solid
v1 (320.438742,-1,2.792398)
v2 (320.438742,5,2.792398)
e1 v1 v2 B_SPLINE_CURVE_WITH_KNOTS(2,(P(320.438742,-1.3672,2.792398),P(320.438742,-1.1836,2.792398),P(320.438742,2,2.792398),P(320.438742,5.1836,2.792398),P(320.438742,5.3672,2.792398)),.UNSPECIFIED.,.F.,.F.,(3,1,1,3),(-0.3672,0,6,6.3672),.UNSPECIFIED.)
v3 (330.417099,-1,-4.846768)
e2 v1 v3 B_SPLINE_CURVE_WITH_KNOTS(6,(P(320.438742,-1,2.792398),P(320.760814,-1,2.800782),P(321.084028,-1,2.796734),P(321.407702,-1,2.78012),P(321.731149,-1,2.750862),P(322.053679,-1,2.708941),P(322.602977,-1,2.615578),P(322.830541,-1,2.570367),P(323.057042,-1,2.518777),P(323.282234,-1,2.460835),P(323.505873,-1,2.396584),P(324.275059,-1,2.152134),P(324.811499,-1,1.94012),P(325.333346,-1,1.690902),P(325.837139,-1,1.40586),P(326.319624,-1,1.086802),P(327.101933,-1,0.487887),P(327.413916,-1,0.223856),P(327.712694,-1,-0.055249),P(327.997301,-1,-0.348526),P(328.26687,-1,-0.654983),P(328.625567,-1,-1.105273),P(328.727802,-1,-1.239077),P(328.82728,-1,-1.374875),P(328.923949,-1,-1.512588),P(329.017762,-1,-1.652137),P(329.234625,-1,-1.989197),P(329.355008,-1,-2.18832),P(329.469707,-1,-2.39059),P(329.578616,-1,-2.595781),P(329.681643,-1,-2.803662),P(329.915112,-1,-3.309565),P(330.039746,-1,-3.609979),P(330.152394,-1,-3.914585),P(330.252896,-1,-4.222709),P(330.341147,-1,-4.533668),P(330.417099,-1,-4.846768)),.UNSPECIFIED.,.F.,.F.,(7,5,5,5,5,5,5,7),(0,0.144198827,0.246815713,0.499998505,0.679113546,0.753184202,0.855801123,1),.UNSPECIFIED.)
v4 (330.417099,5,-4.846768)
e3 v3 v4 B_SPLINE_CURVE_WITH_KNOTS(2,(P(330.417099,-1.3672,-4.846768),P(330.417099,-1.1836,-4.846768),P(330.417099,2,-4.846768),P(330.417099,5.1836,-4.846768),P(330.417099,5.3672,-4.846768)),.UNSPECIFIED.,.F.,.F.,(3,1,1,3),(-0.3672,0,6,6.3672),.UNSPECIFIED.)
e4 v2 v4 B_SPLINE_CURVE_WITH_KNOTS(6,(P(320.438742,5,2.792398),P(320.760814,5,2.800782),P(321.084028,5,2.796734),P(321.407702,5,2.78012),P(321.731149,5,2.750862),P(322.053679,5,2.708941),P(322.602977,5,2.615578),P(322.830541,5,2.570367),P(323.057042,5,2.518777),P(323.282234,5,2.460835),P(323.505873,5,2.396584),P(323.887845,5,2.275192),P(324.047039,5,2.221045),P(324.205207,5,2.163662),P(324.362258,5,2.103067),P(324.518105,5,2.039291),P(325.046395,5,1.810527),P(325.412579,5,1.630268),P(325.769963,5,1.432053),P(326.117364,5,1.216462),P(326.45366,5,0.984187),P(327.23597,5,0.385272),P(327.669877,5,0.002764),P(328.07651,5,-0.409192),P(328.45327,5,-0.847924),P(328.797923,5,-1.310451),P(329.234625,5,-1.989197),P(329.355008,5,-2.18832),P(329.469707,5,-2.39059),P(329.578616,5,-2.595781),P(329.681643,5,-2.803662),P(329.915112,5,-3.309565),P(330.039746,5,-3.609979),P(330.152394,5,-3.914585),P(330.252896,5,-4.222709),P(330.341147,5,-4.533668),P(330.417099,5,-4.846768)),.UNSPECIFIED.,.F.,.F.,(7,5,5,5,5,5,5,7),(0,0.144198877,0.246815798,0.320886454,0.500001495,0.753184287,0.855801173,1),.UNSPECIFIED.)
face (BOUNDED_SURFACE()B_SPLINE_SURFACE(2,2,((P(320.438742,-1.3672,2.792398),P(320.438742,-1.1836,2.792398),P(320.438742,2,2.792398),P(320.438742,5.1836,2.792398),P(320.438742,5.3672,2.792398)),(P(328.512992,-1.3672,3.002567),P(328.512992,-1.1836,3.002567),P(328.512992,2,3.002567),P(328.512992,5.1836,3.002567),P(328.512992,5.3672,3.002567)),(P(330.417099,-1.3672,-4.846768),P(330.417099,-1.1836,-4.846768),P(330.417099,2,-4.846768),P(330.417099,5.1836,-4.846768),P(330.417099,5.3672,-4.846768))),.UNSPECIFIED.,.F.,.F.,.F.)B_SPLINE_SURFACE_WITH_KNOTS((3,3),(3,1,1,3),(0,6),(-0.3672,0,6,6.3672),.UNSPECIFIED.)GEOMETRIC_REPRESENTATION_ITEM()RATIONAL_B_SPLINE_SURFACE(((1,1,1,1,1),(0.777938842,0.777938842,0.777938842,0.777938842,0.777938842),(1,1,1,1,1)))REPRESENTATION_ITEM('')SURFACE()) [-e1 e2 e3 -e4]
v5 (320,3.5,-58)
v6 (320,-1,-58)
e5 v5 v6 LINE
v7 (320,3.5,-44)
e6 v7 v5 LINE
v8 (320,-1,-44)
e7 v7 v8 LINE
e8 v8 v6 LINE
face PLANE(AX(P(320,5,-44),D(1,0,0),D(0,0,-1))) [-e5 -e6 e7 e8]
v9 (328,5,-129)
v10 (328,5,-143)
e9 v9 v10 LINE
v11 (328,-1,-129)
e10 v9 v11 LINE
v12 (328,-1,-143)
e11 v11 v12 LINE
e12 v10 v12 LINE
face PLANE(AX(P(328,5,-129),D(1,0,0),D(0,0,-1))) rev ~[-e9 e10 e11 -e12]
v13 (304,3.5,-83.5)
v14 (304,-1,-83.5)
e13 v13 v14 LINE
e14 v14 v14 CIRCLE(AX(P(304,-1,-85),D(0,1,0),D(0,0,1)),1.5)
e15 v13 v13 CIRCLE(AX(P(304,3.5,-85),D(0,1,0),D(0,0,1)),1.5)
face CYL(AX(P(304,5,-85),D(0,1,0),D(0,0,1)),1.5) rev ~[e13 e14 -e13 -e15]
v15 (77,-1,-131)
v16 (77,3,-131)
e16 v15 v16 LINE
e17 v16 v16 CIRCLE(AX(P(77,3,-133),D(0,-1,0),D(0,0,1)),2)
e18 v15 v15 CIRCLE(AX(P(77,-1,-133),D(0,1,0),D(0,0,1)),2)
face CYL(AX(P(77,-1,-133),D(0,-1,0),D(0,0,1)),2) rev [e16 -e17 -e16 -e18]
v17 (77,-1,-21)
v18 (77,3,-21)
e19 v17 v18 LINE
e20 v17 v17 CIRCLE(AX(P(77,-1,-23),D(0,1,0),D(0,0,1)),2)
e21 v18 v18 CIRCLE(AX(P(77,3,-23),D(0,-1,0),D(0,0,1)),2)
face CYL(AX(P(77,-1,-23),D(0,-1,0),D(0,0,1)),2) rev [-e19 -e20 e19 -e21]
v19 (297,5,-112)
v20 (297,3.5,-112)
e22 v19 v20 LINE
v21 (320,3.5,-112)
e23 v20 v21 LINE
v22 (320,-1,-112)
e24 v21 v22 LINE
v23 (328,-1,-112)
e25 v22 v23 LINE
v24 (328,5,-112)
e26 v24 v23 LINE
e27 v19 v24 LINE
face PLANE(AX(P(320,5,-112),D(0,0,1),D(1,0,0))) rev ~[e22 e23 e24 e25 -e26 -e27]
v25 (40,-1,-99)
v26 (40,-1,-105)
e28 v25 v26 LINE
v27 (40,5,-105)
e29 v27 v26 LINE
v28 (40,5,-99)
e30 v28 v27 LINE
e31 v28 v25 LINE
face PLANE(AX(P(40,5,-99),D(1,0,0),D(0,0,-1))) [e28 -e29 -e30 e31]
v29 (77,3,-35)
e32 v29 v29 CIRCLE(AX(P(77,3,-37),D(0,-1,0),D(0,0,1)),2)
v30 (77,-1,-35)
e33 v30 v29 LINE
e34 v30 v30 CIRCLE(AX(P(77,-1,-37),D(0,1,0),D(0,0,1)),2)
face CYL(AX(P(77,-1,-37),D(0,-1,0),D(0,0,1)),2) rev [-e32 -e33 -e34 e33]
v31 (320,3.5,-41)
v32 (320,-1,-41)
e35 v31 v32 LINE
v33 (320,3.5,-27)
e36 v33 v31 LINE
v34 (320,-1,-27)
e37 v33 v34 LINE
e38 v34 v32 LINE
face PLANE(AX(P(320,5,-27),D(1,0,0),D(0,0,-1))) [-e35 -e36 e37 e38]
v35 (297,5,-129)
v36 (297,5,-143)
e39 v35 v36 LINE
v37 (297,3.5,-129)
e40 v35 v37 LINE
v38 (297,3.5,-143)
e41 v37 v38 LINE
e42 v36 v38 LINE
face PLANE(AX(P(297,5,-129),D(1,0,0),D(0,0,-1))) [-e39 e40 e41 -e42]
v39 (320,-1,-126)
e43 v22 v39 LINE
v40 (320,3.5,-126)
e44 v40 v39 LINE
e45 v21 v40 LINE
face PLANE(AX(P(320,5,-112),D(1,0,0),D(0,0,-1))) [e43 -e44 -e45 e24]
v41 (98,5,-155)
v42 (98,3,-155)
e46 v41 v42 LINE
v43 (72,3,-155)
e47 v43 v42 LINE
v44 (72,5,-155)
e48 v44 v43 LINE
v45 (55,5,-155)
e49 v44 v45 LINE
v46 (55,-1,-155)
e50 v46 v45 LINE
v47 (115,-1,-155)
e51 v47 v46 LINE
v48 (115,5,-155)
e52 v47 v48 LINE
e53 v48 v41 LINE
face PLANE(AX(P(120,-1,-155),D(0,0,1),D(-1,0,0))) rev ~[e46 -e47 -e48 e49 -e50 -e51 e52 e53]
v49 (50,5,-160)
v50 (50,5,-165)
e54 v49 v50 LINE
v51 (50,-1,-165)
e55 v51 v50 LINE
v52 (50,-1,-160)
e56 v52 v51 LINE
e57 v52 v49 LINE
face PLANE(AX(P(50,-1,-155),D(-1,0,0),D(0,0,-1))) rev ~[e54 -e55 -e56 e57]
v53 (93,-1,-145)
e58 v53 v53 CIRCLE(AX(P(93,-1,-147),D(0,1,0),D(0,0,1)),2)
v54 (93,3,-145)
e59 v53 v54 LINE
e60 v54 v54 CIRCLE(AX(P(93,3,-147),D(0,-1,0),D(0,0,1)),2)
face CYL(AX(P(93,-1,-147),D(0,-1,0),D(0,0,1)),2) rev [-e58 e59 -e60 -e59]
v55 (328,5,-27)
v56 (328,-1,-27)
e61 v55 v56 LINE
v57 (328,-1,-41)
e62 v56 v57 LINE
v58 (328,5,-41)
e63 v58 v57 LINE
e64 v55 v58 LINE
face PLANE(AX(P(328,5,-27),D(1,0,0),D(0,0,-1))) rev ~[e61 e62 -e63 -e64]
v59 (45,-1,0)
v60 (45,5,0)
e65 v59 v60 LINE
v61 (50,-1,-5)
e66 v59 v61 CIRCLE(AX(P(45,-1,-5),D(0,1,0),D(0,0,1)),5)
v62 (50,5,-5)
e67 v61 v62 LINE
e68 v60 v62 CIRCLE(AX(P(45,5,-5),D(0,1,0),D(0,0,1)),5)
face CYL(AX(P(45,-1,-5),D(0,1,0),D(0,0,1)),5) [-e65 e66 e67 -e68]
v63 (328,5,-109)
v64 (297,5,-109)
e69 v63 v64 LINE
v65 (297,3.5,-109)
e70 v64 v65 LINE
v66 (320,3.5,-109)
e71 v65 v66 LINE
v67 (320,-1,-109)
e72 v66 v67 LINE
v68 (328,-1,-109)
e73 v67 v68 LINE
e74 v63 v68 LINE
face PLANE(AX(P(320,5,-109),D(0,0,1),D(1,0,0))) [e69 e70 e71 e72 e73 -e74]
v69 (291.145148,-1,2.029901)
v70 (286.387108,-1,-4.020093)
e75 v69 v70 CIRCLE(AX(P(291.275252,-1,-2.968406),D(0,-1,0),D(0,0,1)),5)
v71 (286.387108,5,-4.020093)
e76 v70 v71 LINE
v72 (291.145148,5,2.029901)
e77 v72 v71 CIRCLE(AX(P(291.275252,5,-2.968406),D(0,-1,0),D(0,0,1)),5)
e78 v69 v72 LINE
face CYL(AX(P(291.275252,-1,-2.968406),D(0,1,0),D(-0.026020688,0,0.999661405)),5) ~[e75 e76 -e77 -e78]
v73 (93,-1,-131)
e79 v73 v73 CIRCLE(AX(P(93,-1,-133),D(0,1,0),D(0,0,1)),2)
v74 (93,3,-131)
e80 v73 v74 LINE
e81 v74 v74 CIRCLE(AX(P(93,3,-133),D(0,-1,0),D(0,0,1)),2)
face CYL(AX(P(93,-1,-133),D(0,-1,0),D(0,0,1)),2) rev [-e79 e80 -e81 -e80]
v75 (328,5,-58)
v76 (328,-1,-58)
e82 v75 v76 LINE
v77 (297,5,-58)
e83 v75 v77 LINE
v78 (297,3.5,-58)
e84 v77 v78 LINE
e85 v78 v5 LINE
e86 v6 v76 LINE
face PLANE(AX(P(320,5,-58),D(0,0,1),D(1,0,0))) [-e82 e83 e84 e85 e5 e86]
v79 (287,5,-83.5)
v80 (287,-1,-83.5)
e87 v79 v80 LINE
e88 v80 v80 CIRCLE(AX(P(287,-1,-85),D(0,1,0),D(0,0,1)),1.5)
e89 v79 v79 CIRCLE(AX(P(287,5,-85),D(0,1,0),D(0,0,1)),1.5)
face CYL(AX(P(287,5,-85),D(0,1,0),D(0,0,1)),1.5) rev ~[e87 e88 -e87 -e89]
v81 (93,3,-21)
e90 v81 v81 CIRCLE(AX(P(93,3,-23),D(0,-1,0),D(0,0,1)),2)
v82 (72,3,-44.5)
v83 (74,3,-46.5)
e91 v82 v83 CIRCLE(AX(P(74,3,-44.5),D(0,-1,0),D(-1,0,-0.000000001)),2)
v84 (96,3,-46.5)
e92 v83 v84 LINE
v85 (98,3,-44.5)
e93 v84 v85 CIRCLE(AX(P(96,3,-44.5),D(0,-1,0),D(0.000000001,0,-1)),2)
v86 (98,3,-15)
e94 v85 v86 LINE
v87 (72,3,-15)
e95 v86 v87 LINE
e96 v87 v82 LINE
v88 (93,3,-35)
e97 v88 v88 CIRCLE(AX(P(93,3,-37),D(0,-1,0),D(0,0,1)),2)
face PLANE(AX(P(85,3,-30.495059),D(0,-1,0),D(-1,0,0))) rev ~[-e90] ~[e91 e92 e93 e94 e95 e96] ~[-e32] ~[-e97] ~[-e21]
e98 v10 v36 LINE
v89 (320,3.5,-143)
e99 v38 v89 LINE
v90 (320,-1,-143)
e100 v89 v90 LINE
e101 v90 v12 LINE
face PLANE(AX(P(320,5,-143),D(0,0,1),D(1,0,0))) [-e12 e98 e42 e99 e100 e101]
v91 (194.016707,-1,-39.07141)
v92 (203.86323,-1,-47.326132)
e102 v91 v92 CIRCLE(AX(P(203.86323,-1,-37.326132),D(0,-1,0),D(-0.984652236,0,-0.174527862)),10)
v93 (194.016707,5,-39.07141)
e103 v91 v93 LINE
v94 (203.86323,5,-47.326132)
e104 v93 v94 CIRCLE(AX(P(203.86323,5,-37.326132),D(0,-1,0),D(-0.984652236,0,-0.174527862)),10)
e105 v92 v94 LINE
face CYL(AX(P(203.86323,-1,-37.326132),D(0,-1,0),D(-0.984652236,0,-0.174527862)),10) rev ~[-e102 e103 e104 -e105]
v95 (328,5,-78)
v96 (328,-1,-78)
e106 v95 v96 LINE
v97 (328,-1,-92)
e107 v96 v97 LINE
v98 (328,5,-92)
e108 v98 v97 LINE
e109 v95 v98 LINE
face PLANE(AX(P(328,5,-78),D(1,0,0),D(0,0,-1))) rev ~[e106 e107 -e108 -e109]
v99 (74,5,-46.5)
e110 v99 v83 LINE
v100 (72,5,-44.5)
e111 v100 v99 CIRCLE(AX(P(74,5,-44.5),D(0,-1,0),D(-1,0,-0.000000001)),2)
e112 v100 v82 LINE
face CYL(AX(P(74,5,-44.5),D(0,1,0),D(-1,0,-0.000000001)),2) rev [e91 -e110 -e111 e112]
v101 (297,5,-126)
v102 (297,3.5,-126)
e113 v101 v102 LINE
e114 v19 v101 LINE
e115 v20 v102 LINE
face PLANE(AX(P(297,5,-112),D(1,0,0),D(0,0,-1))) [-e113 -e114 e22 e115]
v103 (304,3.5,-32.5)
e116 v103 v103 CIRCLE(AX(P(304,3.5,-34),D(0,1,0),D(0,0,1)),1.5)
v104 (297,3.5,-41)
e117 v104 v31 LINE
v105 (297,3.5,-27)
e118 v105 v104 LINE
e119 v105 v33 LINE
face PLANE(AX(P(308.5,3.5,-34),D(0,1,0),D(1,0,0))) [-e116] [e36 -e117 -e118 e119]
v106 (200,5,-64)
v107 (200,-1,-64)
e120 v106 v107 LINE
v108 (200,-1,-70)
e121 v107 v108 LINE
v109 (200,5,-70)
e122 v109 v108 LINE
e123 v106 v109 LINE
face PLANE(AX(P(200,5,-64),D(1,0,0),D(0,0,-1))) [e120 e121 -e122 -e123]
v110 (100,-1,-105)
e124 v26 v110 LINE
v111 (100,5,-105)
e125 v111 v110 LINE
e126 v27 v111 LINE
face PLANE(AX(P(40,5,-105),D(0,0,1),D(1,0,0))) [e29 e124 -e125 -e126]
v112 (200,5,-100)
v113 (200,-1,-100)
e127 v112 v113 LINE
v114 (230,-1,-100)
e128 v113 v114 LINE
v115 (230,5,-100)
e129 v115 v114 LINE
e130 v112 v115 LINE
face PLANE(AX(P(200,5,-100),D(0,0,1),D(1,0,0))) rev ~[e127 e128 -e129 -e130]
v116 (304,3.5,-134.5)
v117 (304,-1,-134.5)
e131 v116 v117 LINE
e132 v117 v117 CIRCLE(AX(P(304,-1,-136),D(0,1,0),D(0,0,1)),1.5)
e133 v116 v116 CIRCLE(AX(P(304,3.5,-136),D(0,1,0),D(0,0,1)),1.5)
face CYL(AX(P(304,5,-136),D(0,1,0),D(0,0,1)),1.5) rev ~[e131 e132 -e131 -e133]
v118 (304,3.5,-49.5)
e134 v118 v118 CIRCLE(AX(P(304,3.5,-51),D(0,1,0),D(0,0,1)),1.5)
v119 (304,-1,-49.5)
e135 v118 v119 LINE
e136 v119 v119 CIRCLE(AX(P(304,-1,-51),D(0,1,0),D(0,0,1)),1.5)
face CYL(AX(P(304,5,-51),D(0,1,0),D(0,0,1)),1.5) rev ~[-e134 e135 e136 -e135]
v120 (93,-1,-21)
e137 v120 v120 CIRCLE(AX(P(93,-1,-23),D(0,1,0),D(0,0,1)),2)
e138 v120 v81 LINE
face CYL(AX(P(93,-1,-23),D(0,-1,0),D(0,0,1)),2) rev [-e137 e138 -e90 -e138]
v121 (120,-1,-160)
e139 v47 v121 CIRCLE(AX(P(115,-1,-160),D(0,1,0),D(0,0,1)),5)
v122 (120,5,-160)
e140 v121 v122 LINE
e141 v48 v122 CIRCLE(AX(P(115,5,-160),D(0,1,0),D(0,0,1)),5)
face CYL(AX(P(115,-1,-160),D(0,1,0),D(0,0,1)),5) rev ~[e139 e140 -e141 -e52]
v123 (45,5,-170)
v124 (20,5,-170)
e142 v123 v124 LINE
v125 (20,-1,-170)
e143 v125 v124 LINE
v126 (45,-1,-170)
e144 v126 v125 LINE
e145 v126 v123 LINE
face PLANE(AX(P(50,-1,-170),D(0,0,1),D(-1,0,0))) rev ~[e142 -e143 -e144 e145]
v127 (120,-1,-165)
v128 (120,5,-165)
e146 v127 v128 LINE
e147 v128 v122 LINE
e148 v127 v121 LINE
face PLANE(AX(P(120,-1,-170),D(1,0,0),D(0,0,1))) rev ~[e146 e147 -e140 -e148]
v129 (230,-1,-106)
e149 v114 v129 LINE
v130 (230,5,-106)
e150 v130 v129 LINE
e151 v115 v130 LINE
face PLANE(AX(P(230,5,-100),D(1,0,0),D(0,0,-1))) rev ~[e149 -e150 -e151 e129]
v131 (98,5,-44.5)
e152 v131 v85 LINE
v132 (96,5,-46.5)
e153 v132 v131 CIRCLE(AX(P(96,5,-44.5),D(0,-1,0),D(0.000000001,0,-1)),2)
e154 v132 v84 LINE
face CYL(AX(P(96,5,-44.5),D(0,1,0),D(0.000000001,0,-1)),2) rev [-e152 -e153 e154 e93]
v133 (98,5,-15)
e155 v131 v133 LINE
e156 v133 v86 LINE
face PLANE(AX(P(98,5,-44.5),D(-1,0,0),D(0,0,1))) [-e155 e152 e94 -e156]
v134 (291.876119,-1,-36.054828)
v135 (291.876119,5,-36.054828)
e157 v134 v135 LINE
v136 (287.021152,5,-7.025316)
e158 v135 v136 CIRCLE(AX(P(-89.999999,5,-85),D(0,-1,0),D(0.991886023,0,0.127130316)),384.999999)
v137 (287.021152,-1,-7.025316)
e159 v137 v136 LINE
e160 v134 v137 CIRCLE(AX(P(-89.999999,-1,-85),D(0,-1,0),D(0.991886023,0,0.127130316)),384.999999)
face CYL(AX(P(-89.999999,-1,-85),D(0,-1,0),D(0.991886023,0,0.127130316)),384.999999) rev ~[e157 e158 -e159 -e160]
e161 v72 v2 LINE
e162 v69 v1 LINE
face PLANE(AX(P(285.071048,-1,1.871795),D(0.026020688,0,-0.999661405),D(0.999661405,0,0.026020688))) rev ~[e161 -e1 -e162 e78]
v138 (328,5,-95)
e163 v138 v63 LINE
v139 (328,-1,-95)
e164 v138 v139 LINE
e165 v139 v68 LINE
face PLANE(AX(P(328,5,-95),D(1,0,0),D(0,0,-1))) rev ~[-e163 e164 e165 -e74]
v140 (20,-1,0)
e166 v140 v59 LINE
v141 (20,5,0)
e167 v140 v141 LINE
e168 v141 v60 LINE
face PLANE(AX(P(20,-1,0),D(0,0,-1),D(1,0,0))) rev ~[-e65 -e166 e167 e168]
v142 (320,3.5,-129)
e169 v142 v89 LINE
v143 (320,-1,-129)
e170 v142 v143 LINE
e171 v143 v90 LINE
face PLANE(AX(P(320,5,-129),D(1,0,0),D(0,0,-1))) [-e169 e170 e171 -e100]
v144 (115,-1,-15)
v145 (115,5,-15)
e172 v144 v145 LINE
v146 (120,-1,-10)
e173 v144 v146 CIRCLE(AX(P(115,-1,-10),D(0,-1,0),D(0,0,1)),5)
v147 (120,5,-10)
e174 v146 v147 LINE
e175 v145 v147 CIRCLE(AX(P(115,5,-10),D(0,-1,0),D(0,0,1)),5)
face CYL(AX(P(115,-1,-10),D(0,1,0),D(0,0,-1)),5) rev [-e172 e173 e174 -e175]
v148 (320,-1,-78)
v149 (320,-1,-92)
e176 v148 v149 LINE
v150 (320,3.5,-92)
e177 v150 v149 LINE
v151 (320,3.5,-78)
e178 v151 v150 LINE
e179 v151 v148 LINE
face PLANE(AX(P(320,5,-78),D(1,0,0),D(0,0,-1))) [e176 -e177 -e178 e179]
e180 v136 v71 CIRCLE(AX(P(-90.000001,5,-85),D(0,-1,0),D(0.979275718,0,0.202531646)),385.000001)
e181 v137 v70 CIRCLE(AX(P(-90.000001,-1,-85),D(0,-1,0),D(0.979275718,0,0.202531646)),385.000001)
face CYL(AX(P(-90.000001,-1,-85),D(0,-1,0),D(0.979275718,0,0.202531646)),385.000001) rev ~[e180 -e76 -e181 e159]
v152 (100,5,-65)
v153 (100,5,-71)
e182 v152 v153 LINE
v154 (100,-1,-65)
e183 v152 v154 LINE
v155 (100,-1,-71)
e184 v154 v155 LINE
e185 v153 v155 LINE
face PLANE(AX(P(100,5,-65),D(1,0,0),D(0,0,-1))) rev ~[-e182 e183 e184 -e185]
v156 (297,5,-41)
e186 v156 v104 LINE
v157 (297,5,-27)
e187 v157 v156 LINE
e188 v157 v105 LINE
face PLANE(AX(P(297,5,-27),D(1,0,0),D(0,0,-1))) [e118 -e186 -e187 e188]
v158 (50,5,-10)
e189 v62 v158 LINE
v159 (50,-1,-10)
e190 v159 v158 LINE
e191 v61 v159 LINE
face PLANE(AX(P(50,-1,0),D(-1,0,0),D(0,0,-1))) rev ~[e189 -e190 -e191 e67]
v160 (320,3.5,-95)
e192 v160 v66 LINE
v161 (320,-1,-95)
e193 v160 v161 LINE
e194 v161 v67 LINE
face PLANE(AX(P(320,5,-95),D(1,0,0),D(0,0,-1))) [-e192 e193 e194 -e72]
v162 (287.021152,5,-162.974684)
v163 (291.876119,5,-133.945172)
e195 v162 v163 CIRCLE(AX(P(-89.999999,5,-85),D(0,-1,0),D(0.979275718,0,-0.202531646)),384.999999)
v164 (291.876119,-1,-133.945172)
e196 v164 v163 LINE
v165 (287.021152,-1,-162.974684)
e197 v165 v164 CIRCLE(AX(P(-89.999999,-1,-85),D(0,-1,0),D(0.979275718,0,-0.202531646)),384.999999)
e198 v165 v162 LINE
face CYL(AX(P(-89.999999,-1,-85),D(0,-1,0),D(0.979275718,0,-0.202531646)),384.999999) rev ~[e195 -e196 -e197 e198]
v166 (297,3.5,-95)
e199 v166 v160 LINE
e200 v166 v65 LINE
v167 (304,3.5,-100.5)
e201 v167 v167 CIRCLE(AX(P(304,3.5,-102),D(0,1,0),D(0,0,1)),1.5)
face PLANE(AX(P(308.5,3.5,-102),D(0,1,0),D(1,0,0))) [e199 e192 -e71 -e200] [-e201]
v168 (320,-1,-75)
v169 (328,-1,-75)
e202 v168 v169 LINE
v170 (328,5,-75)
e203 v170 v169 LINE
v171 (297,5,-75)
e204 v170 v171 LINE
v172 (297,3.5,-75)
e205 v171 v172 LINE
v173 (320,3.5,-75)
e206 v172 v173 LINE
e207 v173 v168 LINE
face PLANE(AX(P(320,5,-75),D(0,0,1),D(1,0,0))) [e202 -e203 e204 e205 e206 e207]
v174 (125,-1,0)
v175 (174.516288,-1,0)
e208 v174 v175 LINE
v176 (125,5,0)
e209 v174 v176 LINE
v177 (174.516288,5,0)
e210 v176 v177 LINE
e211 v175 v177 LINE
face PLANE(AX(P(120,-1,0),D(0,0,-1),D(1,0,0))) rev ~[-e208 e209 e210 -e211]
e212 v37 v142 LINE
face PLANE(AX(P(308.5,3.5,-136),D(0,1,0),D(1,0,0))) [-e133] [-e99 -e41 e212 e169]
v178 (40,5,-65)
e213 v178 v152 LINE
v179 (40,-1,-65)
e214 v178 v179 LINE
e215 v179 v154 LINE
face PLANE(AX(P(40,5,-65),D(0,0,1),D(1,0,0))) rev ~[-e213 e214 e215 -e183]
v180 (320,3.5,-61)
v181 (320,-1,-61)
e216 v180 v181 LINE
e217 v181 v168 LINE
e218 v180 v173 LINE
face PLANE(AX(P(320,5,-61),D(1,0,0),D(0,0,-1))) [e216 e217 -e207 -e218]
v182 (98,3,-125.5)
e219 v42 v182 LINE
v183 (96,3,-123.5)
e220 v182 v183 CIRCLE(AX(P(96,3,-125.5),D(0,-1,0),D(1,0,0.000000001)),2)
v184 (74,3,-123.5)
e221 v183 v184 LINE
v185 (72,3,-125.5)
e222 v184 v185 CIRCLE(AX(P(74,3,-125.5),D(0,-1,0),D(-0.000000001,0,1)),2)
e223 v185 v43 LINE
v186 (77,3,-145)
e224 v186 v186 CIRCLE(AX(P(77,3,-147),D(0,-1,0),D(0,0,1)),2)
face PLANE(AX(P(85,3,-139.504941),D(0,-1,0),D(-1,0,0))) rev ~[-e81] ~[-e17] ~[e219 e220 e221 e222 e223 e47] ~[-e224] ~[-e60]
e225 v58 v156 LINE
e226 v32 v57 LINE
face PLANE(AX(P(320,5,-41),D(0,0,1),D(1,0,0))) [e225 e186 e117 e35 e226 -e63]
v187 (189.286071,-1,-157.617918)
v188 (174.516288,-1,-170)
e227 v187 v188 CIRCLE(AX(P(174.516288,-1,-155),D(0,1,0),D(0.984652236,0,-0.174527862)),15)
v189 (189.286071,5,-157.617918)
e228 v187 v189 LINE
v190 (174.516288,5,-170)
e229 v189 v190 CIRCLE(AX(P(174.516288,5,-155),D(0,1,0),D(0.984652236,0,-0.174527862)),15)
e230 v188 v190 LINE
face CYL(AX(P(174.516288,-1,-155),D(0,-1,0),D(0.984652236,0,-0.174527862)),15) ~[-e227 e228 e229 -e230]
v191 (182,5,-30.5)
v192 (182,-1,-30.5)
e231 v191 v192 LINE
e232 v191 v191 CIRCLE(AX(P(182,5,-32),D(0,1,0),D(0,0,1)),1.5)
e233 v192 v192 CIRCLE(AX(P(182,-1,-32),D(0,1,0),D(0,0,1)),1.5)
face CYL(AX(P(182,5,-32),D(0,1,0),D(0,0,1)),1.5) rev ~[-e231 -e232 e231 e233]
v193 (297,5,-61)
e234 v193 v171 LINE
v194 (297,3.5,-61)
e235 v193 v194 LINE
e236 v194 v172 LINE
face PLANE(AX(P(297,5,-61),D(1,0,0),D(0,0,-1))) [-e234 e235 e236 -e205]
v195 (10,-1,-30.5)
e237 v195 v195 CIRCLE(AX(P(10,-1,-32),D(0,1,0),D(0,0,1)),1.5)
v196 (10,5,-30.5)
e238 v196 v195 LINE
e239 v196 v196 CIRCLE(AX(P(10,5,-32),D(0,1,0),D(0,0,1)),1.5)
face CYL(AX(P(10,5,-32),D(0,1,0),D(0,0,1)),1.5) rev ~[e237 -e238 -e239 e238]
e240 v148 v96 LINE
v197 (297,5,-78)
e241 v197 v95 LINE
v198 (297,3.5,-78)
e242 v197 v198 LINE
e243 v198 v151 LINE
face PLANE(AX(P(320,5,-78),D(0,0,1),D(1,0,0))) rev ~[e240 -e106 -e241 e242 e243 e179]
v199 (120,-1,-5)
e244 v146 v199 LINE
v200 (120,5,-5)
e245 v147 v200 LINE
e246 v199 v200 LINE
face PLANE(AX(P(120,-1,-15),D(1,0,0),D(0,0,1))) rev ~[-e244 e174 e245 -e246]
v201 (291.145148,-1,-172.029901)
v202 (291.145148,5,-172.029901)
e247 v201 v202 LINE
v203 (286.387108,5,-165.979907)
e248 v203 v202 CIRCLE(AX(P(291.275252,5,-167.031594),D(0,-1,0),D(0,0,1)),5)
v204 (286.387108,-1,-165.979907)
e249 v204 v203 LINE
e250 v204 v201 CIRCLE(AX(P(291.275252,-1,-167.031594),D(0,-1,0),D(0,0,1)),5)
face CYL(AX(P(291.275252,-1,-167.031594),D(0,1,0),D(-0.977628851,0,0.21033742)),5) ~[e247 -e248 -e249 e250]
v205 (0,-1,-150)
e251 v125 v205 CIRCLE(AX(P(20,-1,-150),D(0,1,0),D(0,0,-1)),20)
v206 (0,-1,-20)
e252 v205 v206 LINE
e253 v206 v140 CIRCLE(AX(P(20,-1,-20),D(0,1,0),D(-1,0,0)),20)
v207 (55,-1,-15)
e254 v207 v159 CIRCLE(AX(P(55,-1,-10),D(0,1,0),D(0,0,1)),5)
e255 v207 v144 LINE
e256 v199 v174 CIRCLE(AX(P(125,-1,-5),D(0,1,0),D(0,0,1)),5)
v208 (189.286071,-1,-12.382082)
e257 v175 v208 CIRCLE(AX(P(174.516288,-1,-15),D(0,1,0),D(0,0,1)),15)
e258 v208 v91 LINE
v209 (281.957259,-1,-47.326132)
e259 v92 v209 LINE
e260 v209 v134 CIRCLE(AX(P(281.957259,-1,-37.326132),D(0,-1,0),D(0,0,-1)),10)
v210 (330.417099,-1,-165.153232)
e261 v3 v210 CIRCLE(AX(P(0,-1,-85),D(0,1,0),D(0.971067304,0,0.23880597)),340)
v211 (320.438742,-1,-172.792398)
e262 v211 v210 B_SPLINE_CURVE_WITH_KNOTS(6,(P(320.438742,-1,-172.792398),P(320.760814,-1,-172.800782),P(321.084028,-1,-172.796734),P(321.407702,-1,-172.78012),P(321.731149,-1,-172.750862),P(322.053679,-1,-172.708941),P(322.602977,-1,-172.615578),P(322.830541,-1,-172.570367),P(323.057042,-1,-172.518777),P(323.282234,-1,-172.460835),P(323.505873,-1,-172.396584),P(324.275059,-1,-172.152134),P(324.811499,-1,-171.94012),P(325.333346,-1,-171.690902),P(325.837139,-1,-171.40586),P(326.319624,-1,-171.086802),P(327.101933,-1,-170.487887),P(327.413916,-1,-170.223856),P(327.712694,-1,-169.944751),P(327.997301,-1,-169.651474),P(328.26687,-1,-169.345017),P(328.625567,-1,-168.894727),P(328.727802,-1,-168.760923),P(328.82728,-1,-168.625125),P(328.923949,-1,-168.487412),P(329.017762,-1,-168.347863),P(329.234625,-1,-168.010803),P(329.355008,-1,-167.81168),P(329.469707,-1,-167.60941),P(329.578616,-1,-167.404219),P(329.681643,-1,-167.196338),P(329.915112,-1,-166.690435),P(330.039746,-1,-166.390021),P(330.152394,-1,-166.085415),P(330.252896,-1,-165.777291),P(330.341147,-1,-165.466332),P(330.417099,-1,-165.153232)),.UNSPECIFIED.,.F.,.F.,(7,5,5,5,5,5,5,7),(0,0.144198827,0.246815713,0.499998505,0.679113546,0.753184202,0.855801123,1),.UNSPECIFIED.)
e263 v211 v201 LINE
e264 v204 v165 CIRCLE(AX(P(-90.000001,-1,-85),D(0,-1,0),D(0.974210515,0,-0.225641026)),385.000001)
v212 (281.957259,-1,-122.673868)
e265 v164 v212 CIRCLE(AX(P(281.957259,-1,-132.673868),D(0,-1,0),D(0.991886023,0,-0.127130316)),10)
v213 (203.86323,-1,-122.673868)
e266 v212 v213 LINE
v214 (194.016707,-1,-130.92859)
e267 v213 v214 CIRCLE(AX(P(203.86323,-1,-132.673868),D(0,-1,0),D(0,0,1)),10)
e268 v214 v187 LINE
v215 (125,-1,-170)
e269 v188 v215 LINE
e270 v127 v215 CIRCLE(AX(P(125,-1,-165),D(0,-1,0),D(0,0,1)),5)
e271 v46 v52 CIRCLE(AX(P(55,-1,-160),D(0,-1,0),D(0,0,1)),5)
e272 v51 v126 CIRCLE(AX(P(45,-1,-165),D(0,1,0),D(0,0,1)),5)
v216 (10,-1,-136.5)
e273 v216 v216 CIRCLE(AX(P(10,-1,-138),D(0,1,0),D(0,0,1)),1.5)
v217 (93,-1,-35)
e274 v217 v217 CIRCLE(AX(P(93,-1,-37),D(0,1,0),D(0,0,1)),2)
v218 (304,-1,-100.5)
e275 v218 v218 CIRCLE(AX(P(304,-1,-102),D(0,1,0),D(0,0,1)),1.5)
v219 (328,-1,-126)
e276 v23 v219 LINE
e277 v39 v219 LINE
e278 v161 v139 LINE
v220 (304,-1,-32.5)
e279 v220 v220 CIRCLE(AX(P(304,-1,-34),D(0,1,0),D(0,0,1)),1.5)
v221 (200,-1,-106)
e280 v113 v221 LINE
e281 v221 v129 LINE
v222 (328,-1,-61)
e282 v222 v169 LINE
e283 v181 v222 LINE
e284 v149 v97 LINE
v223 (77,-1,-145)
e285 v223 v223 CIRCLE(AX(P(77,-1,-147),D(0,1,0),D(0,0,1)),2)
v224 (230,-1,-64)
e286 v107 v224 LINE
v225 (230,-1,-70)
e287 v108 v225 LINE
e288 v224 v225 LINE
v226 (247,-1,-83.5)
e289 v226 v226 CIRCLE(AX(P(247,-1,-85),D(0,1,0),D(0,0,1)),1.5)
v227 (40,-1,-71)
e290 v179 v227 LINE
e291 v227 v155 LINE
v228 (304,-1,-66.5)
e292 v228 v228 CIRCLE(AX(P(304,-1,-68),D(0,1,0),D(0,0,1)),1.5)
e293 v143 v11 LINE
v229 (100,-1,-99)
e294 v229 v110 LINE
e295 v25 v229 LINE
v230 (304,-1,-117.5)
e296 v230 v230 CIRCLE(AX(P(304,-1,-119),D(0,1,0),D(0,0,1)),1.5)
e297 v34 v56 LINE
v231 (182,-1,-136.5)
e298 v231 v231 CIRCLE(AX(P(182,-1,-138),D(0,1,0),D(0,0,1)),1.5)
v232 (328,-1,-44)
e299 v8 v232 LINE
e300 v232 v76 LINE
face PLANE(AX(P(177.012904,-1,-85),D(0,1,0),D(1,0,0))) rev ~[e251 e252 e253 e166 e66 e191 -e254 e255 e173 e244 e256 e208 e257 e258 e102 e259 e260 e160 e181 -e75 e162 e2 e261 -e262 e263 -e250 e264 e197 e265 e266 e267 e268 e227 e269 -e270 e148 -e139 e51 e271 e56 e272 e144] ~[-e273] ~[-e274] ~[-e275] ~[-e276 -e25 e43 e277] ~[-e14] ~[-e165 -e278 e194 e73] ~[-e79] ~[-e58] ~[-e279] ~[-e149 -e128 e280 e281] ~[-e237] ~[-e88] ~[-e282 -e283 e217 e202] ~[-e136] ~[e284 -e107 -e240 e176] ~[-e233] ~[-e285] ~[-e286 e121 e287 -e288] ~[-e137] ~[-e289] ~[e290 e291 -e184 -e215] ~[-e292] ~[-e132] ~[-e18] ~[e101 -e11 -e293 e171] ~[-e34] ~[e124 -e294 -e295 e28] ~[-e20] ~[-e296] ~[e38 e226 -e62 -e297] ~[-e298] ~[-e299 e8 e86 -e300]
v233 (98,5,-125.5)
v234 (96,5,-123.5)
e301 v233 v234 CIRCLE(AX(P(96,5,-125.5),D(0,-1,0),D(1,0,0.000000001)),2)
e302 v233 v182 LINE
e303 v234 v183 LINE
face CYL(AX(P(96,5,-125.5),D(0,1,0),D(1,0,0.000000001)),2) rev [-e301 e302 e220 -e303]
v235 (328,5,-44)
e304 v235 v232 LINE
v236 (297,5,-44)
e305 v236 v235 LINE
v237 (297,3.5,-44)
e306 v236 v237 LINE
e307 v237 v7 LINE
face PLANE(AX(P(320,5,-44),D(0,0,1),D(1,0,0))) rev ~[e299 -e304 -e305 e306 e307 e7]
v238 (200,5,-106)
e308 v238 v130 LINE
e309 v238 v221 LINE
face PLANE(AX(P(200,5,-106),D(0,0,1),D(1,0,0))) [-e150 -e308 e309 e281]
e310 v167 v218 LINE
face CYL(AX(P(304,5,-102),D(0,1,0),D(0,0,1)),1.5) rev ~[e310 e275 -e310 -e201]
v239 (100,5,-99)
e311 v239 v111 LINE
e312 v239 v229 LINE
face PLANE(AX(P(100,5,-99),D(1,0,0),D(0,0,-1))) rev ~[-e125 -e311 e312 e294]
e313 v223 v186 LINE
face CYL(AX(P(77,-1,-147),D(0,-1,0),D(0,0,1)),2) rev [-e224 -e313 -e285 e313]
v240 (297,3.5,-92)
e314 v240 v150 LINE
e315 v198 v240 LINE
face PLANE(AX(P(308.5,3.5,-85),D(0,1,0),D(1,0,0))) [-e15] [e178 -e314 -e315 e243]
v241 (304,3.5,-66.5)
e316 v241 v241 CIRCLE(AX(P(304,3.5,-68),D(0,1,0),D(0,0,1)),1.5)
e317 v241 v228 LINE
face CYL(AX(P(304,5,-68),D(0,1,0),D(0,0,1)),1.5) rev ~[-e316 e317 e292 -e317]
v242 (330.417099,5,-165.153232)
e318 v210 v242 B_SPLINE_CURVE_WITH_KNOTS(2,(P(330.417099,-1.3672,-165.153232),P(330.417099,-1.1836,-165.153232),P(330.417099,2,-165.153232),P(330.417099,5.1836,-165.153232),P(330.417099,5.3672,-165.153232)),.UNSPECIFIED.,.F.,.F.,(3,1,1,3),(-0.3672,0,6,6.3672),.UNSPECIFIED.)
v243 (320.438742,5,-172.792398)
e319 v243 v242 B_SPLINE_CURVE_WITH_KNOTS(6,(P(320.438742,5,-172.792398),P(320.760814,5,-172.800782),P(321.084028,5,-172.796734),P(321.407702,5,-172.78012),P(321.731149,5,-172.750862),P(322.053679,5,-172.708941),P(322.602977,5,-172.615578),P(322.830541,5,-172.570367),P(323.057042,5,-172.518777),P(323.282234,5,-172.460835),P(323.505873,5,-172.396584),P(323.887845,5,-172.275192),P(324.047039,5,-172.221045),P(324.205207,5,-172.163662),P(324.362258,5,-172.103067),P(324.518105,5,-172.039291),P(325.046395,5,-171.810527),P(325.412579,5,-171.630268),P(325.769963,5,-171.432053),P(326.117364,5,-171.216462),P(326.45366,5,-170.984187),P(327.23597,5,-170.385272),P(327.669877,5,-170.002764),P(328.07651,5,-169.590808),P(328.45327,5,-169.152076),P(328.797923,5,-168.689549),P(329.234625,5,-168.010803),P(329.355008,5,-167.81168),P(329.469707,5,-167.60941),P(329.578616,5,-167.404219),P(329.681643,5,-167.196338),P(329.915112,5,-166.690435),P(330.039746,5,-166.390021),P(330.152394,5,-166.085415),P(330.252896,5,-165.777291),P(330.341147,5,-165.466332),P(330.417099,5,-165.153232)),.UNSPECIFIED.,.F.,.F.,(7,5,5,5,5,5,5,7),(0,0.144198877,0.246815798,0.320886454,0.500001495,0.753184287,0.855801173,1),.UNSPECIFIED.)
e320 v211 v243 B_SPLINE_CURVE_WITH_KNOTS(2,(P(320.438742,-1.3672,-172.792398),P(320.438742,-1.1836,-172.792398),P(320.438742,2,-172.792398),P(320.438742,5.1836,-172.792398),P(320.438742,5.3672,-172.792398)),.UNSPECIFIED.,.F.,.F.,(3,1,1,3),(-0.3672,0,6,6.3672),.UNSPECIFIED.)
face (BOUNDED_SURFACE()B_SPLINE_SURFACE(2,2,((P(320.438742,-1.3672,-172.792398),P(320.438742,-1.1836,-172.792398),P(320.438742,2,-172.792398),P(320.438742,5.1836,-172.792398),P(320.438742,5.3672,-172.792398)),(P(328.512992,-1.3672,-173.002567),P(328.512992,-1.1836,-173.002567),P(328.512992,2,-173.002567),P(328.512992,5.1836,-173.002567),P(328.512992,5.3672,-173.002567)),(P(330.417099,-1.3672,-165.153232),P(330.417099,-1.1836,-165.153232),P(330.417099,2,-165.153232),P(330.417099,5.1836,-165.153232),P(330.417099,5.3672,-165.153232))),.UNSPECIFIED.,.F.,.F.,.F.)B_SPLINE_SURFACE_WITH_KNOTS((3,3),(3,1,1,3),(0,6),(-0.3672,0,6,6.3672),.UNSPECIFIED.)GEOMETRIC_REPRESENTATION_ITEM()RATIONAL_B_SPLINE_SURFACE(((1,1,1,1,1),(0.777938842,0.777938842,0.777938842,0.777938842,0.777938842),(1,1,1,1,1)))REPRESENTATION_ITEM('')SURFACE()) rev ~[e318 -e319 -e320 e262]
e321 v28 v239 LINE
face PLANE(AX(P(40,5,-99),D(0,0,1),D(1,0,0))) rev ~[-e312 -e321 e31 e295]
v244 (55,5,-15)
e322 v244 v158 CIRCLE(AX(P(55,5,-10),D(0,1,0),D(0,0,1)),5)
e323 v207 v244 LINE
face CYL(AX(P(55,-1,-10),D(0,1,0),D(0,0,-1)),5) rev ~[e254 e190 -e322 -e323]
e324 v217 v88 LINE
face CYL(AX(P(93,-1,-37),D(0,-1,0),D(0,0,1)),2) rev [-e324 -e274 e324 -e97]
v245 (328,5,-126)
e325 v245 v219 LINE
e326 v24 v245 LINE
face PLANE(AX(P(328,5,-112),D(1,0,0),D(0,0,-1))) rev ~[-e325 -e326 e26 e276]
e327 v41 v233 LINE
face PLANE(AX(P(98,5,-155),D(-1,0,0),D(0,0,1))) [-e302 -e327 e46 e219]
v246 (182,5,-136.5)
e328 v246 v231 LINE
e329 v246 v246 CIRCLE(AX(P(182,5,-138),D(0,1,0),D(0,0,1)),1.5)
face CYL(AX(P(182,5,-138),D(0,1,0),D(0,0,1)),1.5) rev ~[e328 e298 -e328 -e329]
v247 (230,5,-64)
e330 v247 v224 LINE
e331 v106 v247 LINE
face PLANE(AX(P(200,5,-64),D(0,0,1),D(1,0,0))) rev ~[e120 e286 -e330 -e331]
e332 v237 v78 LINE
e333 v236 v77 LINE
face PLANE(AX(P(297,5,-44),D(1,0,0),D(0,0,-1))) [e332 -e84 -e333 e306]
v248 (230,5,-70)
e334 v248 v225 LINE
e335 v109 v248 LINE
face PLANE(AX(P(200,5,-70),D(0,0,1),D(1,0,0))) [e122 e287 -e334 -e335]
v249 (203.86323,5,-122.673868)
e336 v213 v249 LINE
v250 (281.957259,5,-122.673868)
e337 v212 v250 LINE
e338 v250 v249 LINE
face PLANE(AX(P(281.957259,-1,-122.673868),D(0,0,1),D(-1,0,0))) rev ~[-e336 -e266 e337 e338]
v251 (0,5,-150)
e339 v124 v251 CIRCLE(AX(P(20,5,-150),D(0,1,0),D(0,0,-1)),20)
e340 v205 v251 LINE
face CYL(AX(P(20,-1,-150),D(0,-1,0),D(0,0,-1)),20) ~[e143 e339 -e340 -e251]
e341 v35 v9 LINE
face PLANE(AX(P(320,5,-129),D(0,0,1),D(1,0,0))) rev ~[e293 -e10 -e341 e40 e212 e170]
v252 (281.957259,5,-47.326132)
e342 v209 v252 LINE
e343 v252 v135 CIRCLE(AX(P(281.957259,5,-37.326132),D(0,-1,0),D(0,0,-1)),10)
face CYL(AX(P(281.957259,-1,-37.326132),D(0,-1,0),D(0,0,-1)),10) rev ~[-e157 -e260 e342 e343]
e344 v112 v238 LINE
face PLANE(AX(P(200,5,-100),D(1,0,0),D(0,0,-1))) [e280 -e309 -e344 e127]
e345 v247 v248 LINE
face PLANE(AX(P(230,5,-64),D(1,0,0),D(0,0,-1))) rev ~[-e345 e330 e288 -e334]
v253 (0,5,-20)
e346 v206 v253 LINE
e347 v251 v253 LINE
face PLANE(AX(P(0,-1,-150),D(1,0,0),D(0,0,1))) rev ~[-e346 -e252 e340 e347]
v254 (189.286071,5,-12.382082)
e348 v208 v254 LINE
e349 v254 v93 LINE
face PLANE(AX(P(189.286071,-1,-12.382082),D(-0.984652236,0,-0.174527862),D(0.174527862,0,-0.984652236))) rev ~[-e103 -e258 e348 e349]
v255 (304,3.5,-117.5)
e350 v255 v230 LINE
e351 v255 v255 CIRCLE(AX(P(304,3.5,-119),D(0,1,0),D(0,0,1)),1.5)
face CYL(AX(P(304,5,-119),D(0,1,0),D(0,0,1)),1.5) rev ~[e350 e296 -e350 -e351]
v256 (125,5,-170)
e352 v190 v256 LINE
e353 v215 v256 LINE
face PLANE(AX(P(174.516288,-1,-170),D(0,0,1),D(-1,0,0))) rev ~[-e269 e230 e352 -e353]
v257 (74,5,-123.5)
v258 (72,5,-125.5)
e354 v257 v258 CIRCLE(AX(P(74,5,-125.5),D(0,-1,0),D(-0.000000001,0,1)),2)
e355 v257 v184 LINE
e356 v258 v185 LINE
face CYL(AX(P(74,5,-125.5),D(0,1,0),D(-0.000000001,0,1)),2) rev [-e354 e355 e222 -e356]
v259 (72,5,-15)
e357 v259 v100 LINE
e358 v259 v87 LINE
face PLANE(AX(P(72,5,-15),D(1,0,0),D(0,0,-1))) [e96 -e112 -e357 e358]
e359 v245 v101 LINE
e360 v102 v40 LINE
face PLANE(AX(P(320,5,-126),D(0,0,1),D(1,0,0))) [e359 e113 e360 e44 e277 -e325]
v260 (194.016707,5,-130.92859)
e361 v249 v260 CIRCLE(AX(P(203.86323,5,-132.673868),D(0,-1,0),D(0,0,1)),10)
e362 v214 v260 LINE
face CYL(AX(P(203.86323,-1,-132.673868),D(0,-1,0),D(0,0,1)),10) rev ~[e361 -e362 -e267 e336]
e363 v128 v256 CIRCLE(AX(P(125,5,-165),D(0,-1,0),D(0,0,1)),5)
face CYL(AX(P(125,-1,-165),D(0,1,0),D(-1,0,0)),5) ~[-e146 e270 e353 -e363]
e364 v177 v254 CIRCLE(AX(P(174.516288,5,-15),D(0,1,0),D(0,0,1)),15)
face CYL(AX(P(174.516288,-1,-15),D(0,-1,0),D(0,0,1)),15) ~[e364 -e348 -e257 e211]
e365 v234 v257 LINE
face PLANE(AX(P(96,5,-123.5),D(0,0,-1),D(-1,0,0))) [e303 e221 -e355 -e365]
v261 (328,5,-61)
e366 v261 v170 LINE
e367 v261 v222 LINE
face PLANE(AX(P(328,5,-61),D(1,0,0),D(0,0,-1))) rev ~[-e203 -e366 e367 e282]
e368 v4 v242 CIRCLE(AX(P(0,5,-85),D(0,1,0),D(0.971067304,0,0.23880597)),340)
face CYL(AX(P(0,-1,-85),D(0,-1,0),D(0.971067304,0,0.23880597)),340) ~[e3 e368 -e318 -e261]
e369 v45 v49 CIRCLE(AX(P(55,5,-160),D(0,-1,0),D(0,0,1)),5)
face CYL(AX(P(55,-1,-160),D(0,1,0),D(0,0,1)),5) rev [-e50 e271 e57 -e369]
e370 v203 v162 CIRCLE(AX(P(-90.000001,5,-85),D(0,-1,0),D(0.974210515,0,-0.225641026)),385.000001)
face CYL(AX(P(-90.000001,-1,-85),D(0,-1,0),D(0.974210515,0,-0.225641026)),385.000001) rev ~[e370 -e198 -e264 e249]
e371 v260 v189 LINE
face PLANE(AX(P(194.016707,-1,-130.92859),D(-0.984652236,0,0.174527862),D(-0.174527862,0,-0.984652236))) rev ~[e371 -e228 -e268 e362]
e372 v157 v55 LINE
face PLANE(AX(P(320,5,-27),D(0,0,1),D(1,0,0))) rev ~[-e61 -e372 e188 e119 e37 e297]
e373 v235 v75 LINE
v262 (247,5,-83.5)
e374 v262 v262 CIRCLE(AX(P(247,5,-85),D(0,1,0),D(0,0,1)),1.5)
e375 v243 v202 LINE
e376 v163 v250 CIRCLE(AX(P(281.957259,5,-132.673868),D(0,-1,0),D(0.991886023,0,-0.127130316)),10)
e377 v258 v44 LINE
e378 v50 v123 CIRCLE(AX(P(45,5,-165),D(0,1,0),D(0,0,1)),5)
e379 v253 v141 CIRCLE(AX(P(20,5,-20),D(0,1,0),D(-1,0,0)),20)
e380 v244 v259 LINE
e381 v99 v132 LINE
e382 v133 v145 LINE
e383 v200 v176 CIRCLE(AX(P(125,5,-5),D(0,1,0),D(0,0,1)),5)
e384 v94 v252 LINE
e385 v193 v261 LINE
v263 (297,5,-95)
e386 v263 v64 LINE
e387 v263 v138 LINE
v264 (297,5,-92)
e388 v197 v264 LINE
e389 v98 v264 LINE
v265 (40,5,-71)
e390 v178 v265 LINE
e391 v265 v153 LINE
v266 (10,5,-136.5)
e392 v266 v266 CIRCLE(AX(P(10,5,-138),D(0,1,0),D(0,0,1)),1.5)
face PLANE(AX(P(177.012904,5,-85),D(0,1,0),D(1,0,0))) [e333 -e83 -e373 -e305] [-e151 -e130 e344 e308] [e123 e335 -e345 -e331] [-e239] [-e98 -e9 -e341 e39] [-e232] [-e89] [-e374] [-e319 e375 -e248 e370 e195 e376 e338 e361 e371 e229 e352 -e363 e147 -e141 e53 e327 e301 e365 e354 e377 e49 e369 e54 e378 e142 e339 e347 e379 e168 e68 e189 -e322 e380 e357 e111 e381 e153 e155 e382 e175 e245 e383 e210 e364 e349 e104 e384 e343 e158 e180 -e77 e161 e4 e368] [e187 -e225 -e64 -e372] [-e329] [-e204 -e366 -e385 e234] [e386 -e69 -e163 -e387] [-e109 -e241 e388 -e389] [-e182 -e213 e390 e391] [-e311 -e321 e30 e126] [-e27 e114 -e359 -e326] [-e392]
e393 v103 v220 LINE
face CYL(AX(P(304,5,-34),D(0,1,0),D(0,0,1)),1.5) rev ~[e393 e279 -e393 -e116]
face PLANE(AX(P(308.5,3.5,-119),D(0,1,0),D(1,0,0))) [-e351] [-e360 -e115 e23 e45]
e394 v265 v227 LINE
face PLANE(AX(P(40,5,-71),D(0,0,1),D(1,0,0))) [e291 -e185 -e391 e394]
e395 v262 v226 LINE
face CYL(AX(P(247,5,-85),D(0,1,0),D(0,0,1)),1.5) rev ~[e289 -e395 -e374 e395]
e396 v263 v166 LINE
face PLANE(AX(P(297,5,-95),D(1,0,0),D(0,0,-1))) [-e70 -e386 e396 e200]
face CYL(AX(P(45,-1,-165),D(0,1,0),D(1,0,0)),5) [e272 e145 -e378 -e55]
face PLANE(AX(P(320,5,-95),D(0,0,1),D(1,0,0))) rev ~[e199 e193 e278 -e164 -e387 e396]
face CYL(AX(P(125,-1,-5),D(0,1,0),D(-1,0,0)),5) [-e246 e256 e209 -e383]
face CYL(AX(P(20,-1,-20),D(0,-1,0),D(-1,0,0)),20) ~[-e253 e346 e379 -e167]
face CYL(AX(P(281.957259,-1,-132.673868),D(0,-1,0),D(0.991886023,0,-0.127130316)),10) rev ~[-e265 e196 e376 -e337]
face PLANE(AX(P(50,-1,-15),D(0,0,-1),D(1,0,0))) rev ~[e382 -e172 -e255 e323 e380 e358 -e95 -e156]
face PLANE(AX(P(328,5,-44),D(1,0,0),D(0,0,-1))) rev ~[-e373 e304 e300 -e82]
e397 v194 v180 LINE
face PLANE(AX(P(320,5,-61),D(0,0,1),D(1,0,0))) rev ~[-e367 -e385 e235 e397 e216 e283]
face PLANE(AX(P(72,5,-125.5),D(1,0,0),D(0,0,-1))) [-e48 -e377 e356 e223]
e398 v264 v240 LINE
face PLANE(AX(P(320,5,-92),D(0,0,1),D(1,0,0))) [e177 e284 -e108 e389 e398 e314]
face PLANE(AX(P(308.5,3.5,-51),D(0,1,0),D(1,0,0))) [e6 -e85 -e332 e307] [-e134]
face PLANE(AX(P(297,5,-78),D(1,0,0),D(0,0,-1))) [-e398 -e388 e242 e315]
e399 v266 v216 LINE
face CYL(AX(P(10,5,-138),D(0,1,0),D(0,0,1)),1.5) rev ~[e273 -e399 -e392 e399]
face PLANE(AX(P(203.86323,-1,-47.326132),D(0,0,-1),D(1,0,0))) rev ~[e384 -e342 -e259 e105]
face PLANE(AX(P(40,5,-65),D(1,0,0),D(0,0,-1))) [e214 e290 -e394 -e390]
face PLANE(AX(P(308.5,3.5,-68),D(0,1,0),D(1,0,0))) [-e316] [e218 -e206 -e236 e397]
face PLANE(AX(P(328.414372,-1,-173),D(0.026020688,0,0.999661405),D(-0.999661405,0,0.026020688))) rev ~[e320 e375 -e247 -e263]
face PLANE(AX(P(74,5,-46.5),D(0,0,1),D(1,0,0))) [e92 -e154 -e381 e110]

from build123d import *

# Parameters (mm, degrees)
BOSS_EXTRUDE1_DEPTH      = 5
BOSS_EXTRUDE1_DEPTH_BACK = 1
SKETCH1_R                = 2
SKETCH3_R                = 1.5
SKETCH3_W                = 8
SKETCH3_H                = 14
SKETCH3_W_2              = 60
SKETCH3_H_2              = 6
SKETCH3_W_3              = 30
CUT_EXTRUDE2_DEPTH       = 382.529815349
FILLET1_R                = 5
FILLET2_R                = 10
FILLET3_R                = 5
FILLET4_R                = 10
FILLET5_R                = 5
FILLET6_R                = 5
FILLET7_R                = 5
FILLET8_R                = 5
FILLET9_R                = 5
FILLET10_R               = 5
FILLET11_R               = 5
FILLET12_R               = 5
CUT_EXTRUDE3_DEPTH       = 2
SKETCH5_W                = 23
SKETCH5_H                = 14
CUT_EXTRUDE4_DEPTH       = 1.5


with BuildPart() as part:
    # Sketch1 → Boss-Extrude1 (new, two sides: drawn at the far end of the back side and taken through both)
    with BuildSketch(Plane(origin=(0, 0, 0), x_dir=(1, 0, 0), z_dir=(0, 1, 0)).offset(-BOSS_EXTRUDE1_DEPTH_BACK)):
        with BuildLine():
            ThreePointArc((0, 20), (5.857864376, 5.857864376), (20, 0))
            Line((20, 0), (50, 0))
            Line((50, 0), (50, 15))
            Line((50, 15), (120, 15))
            Line((120, 15), (120, 0))
            Line((120, 0), (174.516287626, 0))
            ThreePointArc((174.516287626, 0), (184.152968357, 3.50502786), (189.286071162, 12.382082068))
            Line((189.286071162, 12.382082068), (194.016707233, 39.071410209))
            ThreePointArc((194.016707233, 39.071410209), (197.438775769, 44.989446348), (203.86322959, 47.326131588))
            Line((203.86322959, 47.326131588), (275.479841954, 47.326131588))
            Line((275.479841954, 47.326131588), (281.957258661, 47.326131588))
            ThreePointArc((281.957258661, 47.326131588), (289.464356355, 43.932453122), (291.876118892, 36.05482843))
            ThreePointArc((291.876118892, 36.05482843), (289.726144633, 21.493661084), (287.021151563, 7.025316456))
            ThreePointArc((287.021151563, 7.025316456), (286.072411794, 2.570993654), (285.071048277, -1.871794872))
            Line((285.071048277, -1.871794872), (328.414372402, -3))
            ThreePointArc((328.414372402, -3), (329.306211212, 0.398467763), (330.162883312, 3.805970149))
            ThreePointArc((330.162883312, 3.805970149), (340, 85), (330.162883312, 166.194029851))
            ThreePointArc((330.162883312, 166.194029851), (329.306211212, 169.601532237), (328.414372402, 173))
            Line((328.414372402, 173), (285.071048277, 171.871794872))
            ThreePointArc((285.071048277, 171.871794872), (286.072411794, 167.429006346), (287.021151563, 162.974683544))
            ThreePointArc((287.021151563, 162.974683544), (289.726144633, 148.506338916), (291.876118892, 133.94517157))
            ThreePointArc((291.876118892, 133.94517157), (289.464356355, 126.067546878), (281.957258661, 122.673868412))
            Line((281.957258661, 122.673868412), (275.479841954, 122.673868412))
            Line((275.479841954, 122.673868412), (203.86322959, 122.673868412))
            ThreePointArc((203.86322959, 122.673868412), (197.438775769, 125.010553652), (194.016707233, 130.928589791))
            Line((194.016707233, 130.928589791), (189.286071162, 157.617917932))
            ThreePointArc((189.286071162, 157.617917932), (184.152968357, 166.49497214), (174.516287626, 170))
            Line((174.516287626, 170), (120, 170))
            Line((120, 170), (120, 155))
            Line((120, 155), (50, 155))
            Line((50, 155), (50, 170))
            Line((50, 170), (20, 170))
            ThreePointArc((20, 170), (5.857864376, 164.142135624), (0, 150))
            Line((0, 150), (0, 85))
            Line((0, 85), (0, 20))
        make_face()
        with Locations(Location((77, 23, 0), (0, 0, 270))):
            Circle(SKETCH1_R, mode=Mode.SUBTRACT)
        with Locations(Location((77, 37, 0), (0, 0, 270))):
            Circle(SKETCH1_R, mode=Mode.SUBTRACT)
        with Locations(Location((93, 23, 0), (0, 0, 270))):
            Circle(SKETCH1_R, mode=Mode.SUBTRACT)
        with Locations(Location((93, 37, 0), (0, 0, 270))):
            Circle(SKETCH1_R, mode=Mode.SUBTRACT)
        with Locations(Location((77, 133, 0), (0, 0, 270))):
            Circle(SKETCH1_R, mode=Mode.SUBTRACT)
        with Locations(Location((77, 147, 0), (0, 0, 270))):
            Circle(SKETCH1_R, mode=Mode.SUBTRACT)
        with Locations(Location((93, 133, 0), (0, 0, 270))):
            Circle(SKETCH1_R, mode=Mode.SUBTRACT)
        with Locations(Location((93, 147, 0), (0, 0, 270))):
            Circle(SKETCH1_R, mode=Mode.SUBTRACT)
    extrude(amount=BOSS_EXTRUDE1_DEPTH + BOSS_EXTRUDE1_DEPTH_BACK)

    # Sketch3 → Cut-Extrude2 (cut, through all)
    with BuildSketch(Plane(origin=(0, 5, 0), x_dir=(1, 0, 0), z_dir=(0, 1, 0))):
        with Locations(Location((304, 34, 0), (0, 0, 270))):
            Circle(SKETCH3_R)
        with Locations(Location((304, 51, 0), (0, 0, 270))):
            Circle(SKETCH3_R)
        with Locations((324, 51)):
            Rectangle(SKETCH3_W, SKETCH3_H)
        with Locations((324, 34)):
            Rectangle(SKETCH3_W, SKETCH3_H)
        with Locations(Location((304, 68, 0), (0, 0, 270))):
            Circle(SKETCH3_R)
        with Locations(Location((304, 85, 0), (0, 0, 270))):
            Circle(SKETCH3_R)
        with Locations(Location((304, 102, 0), (0, 0, 270))):
            Circle(SKETCH3_R)
        with Locations((324, 102)):
            Rectangle(SKETCH3_W, SKETCH3_H)
        with Locations((324, 119)):
            Rectangle(SKETCH3_W, SKETCH3_H)
        with Locations((324, 85)):
            Rectangle(SKETCH3_W, SKETCH3_H)
        with Locations((324, 68)):
            Rectangle(SKETCH3_W, SKETCH3_H)
        with Locations((324, 136)):
            Rectangle(SKETCH3_W, SKETCH3_H)
        with Locations(Location((304, 136, 0), (0, 0, 270))):
            Circle(SKETCH3_R)
        with Locations(Location((304, 119, 0), (0, 0, 270))):
            Circle(SKETCH3_R)
        with Locations(Location((247, 85, 0), (0, 0, 270))):
            Circle(SKETCH3_R)
        with Locations(Location((287, 85, 0), (0, 0, 270))):
            Circle(SKETCH3_R)
        with Locations((70, 68)):
            Rectangle(SKETCH3_W_2, SKETCH3_H_2)
        with Locations((70, 102)):
            Rectangle(SKETCH3_W_2, SKETCH3_H_2)
        with Locations((215, 103)):
            Rectangle(SKETCH3_W_3, SKETCH3_H_2)
        with Locations((215, 67)):
            Rectangle(SKETCH3_W_3, SKETCH3_H_2)
        with Locations(Location((10, 138, 0), (0, 0, 270))):
            Circle(SKETCH3_R)
        with Locations(Location((10, 32, 0), (0, 0, 270))):
            Circle(SKETCH3_R)
        with Locations(Location((182, 138, 0), (0, 0, 270))):
            Circle(SKETCH3_R)
        with Locations(Location((182, 32, 0), (0, 0, 270))):
            Circle(SKETCH3_R)
    extrude(amount=-CUT_EXTRUDE2_DEPTH, mode=Mode.SUBTRACT)

    # Fillet1
    fillet1_edges = [part.edges().sort_by_distance(p)[0] for p in [
        (285.071048277, 2, -171.871794872),
    ]]
    fillet(fillet1_edges, radius=FILLET1_R)

    # Fillet2
    fillet2_edges = [part.edges().sort_by_distance(p)[0] for p in [
        (328.414372402, 2.5, -173),
    ]]
    fillet(fillet2_edges, radius=FILLET2_R)

    # Fillet3
    fillet3_edges = [part.edges().sort_by_distance(p)[0] for p in [
        (285.071048277, 2, 1.871794872),
    ]]
    fillet(fillet3_edges, radius=FILLET3_R)

    # Fillet4
    fillet4_edges = [part.edges().sort_by_distance(p)[0] for p in [
        (328.414372402, 2.5, 3),
    ]]
    fillet(fillet4_edges, radius=FILLET4_R)

    # Fillet5
    fillet5_edges = [part.edges().sort_by_distance(p)[0] for p in [
        (50, 2, -15),
    ]]
    fillet(fillet5_edges, radius=FILLET5_R)

    # Fillet6
    fillet6_edges = [part.edges().sort_by_distance(p)[0] for p in [
        (120, 2, -15),
    ]]
    fillet(fillet6_edges, radius=FILLET6_R)

    # Fillet7
    fillet7_edges = [part.edges().sort_by_distance(p)[0] for p in [
        (120, 2, -155),
    ]]
    fillet(fillet7_edges, radius=FILLET7_R)

    # Fillet8
    fillet8_edges = [part.edges().sort_by_distance(p)[0] for p in [
        (50, 2, -155),
    ]]
    fillet(fillet8_edges, radius=FILLET8_R)

    # Fillet9
    fillet9_edges = [part.edges().sort_by_distance(p)[0] for p in [
        (50, 2, -170),
    ]]
    fillet(fillet9_edges, radius=FILLET9_R)

    # Fillet10
    fillet10_edges = [part.edges().sort_by_distance(p)[0] for p in [
        (120, 2, -170),
    ]]
    fillet(fillet10_edges, radius=FILLET10_R)

    # Fillet11
    fillet11_edges = [part.edges().sort_by_distance(p)[0] for p in [
        (50, 2, 0),
    ]]
    fillet(fillet11_edges, radius=FILLET11_R)

    # Fillet12
    fillet12_edges = [part.edges().sort_by_distance(p)[0] for p in [
        (120, 2, 0),
    ]]
    fillet(fillet12_edges, radius=FILLET12_R)

    # Sketch4 → Cut-Extrude3 (cut)
    with BuildSketch(Plane(origin=(0, 5, 0), x_dir=(1, 0, 0), z_dir=(0, 1, 0))):
        with BuildLine():
            Line((74, 46.5), (96, 46.5))
            ThreePointArc((96, 46.5), (97.414213562, 45.914213562), (98, 44.5))
            Line((98, 44.5), (98, 15))
            Line((98, 15), (72, 15))
            Line((72, 15), (72, 44.5))
            ThreePointArc((72, 44.5), (72.585786438, 45.914213562), (74, 46.5))
        make_face()
        with BuildLine():
            Line((72, 155), (98, 155))
            Line((98, 155), (98, 125.5))
            ThreePointArc((98, 125.5), (97.414213562, 124.085786438), (96, 123.5))
            Line((96, 123.5), (74, 123.5))
            ThreePointArc((74, 123.5), (72.585786438, 124.085786438), (72, 125.5))
            Line((72, 125.5), (72, 155))
        make_face()
    extrude(amount=-CUT_EXTRUDE3_DEPTH, mode=Mode.SUBTRACT)

    # Sketch5 → Cut-Extrude4 (cut)
    with BuildSketch(Plane(origin=(0, 5, 0), x_dir=(1, 0, 0), z_dir=(0, 1, 0))):
        with Locations((308.5, 51)):
            Rectangle(SKETCH5_W, SKETCH5_H)
        with Locations((308.5, 34)):
            Rectangle(SKETCH5_W, SKETCH5_H)
        with Locations((308.5, 68)):
            Rectangle(SKETCH5_W, SKETCH5_H)
        with Locations((308.5, 85)):
            Rectangle(SKETCH5_W, SKETCH5_H)
        with Locations((308.5, 102)):
            Rectangle(SKETCH5_W, SKETCH5_H)
        with Locations((308.5, 119)):
            Rectangle(SKETCH5_W, SKETCH5_H)
        with Locations((308.5, 136)):
            Rectangle(SKETCH5_W, SKETCH5_H)
    extrude(amount=-CUT_EXTRUDE4_DEPTH, mode=Mode.SUBTRACT)


solid = part.part
